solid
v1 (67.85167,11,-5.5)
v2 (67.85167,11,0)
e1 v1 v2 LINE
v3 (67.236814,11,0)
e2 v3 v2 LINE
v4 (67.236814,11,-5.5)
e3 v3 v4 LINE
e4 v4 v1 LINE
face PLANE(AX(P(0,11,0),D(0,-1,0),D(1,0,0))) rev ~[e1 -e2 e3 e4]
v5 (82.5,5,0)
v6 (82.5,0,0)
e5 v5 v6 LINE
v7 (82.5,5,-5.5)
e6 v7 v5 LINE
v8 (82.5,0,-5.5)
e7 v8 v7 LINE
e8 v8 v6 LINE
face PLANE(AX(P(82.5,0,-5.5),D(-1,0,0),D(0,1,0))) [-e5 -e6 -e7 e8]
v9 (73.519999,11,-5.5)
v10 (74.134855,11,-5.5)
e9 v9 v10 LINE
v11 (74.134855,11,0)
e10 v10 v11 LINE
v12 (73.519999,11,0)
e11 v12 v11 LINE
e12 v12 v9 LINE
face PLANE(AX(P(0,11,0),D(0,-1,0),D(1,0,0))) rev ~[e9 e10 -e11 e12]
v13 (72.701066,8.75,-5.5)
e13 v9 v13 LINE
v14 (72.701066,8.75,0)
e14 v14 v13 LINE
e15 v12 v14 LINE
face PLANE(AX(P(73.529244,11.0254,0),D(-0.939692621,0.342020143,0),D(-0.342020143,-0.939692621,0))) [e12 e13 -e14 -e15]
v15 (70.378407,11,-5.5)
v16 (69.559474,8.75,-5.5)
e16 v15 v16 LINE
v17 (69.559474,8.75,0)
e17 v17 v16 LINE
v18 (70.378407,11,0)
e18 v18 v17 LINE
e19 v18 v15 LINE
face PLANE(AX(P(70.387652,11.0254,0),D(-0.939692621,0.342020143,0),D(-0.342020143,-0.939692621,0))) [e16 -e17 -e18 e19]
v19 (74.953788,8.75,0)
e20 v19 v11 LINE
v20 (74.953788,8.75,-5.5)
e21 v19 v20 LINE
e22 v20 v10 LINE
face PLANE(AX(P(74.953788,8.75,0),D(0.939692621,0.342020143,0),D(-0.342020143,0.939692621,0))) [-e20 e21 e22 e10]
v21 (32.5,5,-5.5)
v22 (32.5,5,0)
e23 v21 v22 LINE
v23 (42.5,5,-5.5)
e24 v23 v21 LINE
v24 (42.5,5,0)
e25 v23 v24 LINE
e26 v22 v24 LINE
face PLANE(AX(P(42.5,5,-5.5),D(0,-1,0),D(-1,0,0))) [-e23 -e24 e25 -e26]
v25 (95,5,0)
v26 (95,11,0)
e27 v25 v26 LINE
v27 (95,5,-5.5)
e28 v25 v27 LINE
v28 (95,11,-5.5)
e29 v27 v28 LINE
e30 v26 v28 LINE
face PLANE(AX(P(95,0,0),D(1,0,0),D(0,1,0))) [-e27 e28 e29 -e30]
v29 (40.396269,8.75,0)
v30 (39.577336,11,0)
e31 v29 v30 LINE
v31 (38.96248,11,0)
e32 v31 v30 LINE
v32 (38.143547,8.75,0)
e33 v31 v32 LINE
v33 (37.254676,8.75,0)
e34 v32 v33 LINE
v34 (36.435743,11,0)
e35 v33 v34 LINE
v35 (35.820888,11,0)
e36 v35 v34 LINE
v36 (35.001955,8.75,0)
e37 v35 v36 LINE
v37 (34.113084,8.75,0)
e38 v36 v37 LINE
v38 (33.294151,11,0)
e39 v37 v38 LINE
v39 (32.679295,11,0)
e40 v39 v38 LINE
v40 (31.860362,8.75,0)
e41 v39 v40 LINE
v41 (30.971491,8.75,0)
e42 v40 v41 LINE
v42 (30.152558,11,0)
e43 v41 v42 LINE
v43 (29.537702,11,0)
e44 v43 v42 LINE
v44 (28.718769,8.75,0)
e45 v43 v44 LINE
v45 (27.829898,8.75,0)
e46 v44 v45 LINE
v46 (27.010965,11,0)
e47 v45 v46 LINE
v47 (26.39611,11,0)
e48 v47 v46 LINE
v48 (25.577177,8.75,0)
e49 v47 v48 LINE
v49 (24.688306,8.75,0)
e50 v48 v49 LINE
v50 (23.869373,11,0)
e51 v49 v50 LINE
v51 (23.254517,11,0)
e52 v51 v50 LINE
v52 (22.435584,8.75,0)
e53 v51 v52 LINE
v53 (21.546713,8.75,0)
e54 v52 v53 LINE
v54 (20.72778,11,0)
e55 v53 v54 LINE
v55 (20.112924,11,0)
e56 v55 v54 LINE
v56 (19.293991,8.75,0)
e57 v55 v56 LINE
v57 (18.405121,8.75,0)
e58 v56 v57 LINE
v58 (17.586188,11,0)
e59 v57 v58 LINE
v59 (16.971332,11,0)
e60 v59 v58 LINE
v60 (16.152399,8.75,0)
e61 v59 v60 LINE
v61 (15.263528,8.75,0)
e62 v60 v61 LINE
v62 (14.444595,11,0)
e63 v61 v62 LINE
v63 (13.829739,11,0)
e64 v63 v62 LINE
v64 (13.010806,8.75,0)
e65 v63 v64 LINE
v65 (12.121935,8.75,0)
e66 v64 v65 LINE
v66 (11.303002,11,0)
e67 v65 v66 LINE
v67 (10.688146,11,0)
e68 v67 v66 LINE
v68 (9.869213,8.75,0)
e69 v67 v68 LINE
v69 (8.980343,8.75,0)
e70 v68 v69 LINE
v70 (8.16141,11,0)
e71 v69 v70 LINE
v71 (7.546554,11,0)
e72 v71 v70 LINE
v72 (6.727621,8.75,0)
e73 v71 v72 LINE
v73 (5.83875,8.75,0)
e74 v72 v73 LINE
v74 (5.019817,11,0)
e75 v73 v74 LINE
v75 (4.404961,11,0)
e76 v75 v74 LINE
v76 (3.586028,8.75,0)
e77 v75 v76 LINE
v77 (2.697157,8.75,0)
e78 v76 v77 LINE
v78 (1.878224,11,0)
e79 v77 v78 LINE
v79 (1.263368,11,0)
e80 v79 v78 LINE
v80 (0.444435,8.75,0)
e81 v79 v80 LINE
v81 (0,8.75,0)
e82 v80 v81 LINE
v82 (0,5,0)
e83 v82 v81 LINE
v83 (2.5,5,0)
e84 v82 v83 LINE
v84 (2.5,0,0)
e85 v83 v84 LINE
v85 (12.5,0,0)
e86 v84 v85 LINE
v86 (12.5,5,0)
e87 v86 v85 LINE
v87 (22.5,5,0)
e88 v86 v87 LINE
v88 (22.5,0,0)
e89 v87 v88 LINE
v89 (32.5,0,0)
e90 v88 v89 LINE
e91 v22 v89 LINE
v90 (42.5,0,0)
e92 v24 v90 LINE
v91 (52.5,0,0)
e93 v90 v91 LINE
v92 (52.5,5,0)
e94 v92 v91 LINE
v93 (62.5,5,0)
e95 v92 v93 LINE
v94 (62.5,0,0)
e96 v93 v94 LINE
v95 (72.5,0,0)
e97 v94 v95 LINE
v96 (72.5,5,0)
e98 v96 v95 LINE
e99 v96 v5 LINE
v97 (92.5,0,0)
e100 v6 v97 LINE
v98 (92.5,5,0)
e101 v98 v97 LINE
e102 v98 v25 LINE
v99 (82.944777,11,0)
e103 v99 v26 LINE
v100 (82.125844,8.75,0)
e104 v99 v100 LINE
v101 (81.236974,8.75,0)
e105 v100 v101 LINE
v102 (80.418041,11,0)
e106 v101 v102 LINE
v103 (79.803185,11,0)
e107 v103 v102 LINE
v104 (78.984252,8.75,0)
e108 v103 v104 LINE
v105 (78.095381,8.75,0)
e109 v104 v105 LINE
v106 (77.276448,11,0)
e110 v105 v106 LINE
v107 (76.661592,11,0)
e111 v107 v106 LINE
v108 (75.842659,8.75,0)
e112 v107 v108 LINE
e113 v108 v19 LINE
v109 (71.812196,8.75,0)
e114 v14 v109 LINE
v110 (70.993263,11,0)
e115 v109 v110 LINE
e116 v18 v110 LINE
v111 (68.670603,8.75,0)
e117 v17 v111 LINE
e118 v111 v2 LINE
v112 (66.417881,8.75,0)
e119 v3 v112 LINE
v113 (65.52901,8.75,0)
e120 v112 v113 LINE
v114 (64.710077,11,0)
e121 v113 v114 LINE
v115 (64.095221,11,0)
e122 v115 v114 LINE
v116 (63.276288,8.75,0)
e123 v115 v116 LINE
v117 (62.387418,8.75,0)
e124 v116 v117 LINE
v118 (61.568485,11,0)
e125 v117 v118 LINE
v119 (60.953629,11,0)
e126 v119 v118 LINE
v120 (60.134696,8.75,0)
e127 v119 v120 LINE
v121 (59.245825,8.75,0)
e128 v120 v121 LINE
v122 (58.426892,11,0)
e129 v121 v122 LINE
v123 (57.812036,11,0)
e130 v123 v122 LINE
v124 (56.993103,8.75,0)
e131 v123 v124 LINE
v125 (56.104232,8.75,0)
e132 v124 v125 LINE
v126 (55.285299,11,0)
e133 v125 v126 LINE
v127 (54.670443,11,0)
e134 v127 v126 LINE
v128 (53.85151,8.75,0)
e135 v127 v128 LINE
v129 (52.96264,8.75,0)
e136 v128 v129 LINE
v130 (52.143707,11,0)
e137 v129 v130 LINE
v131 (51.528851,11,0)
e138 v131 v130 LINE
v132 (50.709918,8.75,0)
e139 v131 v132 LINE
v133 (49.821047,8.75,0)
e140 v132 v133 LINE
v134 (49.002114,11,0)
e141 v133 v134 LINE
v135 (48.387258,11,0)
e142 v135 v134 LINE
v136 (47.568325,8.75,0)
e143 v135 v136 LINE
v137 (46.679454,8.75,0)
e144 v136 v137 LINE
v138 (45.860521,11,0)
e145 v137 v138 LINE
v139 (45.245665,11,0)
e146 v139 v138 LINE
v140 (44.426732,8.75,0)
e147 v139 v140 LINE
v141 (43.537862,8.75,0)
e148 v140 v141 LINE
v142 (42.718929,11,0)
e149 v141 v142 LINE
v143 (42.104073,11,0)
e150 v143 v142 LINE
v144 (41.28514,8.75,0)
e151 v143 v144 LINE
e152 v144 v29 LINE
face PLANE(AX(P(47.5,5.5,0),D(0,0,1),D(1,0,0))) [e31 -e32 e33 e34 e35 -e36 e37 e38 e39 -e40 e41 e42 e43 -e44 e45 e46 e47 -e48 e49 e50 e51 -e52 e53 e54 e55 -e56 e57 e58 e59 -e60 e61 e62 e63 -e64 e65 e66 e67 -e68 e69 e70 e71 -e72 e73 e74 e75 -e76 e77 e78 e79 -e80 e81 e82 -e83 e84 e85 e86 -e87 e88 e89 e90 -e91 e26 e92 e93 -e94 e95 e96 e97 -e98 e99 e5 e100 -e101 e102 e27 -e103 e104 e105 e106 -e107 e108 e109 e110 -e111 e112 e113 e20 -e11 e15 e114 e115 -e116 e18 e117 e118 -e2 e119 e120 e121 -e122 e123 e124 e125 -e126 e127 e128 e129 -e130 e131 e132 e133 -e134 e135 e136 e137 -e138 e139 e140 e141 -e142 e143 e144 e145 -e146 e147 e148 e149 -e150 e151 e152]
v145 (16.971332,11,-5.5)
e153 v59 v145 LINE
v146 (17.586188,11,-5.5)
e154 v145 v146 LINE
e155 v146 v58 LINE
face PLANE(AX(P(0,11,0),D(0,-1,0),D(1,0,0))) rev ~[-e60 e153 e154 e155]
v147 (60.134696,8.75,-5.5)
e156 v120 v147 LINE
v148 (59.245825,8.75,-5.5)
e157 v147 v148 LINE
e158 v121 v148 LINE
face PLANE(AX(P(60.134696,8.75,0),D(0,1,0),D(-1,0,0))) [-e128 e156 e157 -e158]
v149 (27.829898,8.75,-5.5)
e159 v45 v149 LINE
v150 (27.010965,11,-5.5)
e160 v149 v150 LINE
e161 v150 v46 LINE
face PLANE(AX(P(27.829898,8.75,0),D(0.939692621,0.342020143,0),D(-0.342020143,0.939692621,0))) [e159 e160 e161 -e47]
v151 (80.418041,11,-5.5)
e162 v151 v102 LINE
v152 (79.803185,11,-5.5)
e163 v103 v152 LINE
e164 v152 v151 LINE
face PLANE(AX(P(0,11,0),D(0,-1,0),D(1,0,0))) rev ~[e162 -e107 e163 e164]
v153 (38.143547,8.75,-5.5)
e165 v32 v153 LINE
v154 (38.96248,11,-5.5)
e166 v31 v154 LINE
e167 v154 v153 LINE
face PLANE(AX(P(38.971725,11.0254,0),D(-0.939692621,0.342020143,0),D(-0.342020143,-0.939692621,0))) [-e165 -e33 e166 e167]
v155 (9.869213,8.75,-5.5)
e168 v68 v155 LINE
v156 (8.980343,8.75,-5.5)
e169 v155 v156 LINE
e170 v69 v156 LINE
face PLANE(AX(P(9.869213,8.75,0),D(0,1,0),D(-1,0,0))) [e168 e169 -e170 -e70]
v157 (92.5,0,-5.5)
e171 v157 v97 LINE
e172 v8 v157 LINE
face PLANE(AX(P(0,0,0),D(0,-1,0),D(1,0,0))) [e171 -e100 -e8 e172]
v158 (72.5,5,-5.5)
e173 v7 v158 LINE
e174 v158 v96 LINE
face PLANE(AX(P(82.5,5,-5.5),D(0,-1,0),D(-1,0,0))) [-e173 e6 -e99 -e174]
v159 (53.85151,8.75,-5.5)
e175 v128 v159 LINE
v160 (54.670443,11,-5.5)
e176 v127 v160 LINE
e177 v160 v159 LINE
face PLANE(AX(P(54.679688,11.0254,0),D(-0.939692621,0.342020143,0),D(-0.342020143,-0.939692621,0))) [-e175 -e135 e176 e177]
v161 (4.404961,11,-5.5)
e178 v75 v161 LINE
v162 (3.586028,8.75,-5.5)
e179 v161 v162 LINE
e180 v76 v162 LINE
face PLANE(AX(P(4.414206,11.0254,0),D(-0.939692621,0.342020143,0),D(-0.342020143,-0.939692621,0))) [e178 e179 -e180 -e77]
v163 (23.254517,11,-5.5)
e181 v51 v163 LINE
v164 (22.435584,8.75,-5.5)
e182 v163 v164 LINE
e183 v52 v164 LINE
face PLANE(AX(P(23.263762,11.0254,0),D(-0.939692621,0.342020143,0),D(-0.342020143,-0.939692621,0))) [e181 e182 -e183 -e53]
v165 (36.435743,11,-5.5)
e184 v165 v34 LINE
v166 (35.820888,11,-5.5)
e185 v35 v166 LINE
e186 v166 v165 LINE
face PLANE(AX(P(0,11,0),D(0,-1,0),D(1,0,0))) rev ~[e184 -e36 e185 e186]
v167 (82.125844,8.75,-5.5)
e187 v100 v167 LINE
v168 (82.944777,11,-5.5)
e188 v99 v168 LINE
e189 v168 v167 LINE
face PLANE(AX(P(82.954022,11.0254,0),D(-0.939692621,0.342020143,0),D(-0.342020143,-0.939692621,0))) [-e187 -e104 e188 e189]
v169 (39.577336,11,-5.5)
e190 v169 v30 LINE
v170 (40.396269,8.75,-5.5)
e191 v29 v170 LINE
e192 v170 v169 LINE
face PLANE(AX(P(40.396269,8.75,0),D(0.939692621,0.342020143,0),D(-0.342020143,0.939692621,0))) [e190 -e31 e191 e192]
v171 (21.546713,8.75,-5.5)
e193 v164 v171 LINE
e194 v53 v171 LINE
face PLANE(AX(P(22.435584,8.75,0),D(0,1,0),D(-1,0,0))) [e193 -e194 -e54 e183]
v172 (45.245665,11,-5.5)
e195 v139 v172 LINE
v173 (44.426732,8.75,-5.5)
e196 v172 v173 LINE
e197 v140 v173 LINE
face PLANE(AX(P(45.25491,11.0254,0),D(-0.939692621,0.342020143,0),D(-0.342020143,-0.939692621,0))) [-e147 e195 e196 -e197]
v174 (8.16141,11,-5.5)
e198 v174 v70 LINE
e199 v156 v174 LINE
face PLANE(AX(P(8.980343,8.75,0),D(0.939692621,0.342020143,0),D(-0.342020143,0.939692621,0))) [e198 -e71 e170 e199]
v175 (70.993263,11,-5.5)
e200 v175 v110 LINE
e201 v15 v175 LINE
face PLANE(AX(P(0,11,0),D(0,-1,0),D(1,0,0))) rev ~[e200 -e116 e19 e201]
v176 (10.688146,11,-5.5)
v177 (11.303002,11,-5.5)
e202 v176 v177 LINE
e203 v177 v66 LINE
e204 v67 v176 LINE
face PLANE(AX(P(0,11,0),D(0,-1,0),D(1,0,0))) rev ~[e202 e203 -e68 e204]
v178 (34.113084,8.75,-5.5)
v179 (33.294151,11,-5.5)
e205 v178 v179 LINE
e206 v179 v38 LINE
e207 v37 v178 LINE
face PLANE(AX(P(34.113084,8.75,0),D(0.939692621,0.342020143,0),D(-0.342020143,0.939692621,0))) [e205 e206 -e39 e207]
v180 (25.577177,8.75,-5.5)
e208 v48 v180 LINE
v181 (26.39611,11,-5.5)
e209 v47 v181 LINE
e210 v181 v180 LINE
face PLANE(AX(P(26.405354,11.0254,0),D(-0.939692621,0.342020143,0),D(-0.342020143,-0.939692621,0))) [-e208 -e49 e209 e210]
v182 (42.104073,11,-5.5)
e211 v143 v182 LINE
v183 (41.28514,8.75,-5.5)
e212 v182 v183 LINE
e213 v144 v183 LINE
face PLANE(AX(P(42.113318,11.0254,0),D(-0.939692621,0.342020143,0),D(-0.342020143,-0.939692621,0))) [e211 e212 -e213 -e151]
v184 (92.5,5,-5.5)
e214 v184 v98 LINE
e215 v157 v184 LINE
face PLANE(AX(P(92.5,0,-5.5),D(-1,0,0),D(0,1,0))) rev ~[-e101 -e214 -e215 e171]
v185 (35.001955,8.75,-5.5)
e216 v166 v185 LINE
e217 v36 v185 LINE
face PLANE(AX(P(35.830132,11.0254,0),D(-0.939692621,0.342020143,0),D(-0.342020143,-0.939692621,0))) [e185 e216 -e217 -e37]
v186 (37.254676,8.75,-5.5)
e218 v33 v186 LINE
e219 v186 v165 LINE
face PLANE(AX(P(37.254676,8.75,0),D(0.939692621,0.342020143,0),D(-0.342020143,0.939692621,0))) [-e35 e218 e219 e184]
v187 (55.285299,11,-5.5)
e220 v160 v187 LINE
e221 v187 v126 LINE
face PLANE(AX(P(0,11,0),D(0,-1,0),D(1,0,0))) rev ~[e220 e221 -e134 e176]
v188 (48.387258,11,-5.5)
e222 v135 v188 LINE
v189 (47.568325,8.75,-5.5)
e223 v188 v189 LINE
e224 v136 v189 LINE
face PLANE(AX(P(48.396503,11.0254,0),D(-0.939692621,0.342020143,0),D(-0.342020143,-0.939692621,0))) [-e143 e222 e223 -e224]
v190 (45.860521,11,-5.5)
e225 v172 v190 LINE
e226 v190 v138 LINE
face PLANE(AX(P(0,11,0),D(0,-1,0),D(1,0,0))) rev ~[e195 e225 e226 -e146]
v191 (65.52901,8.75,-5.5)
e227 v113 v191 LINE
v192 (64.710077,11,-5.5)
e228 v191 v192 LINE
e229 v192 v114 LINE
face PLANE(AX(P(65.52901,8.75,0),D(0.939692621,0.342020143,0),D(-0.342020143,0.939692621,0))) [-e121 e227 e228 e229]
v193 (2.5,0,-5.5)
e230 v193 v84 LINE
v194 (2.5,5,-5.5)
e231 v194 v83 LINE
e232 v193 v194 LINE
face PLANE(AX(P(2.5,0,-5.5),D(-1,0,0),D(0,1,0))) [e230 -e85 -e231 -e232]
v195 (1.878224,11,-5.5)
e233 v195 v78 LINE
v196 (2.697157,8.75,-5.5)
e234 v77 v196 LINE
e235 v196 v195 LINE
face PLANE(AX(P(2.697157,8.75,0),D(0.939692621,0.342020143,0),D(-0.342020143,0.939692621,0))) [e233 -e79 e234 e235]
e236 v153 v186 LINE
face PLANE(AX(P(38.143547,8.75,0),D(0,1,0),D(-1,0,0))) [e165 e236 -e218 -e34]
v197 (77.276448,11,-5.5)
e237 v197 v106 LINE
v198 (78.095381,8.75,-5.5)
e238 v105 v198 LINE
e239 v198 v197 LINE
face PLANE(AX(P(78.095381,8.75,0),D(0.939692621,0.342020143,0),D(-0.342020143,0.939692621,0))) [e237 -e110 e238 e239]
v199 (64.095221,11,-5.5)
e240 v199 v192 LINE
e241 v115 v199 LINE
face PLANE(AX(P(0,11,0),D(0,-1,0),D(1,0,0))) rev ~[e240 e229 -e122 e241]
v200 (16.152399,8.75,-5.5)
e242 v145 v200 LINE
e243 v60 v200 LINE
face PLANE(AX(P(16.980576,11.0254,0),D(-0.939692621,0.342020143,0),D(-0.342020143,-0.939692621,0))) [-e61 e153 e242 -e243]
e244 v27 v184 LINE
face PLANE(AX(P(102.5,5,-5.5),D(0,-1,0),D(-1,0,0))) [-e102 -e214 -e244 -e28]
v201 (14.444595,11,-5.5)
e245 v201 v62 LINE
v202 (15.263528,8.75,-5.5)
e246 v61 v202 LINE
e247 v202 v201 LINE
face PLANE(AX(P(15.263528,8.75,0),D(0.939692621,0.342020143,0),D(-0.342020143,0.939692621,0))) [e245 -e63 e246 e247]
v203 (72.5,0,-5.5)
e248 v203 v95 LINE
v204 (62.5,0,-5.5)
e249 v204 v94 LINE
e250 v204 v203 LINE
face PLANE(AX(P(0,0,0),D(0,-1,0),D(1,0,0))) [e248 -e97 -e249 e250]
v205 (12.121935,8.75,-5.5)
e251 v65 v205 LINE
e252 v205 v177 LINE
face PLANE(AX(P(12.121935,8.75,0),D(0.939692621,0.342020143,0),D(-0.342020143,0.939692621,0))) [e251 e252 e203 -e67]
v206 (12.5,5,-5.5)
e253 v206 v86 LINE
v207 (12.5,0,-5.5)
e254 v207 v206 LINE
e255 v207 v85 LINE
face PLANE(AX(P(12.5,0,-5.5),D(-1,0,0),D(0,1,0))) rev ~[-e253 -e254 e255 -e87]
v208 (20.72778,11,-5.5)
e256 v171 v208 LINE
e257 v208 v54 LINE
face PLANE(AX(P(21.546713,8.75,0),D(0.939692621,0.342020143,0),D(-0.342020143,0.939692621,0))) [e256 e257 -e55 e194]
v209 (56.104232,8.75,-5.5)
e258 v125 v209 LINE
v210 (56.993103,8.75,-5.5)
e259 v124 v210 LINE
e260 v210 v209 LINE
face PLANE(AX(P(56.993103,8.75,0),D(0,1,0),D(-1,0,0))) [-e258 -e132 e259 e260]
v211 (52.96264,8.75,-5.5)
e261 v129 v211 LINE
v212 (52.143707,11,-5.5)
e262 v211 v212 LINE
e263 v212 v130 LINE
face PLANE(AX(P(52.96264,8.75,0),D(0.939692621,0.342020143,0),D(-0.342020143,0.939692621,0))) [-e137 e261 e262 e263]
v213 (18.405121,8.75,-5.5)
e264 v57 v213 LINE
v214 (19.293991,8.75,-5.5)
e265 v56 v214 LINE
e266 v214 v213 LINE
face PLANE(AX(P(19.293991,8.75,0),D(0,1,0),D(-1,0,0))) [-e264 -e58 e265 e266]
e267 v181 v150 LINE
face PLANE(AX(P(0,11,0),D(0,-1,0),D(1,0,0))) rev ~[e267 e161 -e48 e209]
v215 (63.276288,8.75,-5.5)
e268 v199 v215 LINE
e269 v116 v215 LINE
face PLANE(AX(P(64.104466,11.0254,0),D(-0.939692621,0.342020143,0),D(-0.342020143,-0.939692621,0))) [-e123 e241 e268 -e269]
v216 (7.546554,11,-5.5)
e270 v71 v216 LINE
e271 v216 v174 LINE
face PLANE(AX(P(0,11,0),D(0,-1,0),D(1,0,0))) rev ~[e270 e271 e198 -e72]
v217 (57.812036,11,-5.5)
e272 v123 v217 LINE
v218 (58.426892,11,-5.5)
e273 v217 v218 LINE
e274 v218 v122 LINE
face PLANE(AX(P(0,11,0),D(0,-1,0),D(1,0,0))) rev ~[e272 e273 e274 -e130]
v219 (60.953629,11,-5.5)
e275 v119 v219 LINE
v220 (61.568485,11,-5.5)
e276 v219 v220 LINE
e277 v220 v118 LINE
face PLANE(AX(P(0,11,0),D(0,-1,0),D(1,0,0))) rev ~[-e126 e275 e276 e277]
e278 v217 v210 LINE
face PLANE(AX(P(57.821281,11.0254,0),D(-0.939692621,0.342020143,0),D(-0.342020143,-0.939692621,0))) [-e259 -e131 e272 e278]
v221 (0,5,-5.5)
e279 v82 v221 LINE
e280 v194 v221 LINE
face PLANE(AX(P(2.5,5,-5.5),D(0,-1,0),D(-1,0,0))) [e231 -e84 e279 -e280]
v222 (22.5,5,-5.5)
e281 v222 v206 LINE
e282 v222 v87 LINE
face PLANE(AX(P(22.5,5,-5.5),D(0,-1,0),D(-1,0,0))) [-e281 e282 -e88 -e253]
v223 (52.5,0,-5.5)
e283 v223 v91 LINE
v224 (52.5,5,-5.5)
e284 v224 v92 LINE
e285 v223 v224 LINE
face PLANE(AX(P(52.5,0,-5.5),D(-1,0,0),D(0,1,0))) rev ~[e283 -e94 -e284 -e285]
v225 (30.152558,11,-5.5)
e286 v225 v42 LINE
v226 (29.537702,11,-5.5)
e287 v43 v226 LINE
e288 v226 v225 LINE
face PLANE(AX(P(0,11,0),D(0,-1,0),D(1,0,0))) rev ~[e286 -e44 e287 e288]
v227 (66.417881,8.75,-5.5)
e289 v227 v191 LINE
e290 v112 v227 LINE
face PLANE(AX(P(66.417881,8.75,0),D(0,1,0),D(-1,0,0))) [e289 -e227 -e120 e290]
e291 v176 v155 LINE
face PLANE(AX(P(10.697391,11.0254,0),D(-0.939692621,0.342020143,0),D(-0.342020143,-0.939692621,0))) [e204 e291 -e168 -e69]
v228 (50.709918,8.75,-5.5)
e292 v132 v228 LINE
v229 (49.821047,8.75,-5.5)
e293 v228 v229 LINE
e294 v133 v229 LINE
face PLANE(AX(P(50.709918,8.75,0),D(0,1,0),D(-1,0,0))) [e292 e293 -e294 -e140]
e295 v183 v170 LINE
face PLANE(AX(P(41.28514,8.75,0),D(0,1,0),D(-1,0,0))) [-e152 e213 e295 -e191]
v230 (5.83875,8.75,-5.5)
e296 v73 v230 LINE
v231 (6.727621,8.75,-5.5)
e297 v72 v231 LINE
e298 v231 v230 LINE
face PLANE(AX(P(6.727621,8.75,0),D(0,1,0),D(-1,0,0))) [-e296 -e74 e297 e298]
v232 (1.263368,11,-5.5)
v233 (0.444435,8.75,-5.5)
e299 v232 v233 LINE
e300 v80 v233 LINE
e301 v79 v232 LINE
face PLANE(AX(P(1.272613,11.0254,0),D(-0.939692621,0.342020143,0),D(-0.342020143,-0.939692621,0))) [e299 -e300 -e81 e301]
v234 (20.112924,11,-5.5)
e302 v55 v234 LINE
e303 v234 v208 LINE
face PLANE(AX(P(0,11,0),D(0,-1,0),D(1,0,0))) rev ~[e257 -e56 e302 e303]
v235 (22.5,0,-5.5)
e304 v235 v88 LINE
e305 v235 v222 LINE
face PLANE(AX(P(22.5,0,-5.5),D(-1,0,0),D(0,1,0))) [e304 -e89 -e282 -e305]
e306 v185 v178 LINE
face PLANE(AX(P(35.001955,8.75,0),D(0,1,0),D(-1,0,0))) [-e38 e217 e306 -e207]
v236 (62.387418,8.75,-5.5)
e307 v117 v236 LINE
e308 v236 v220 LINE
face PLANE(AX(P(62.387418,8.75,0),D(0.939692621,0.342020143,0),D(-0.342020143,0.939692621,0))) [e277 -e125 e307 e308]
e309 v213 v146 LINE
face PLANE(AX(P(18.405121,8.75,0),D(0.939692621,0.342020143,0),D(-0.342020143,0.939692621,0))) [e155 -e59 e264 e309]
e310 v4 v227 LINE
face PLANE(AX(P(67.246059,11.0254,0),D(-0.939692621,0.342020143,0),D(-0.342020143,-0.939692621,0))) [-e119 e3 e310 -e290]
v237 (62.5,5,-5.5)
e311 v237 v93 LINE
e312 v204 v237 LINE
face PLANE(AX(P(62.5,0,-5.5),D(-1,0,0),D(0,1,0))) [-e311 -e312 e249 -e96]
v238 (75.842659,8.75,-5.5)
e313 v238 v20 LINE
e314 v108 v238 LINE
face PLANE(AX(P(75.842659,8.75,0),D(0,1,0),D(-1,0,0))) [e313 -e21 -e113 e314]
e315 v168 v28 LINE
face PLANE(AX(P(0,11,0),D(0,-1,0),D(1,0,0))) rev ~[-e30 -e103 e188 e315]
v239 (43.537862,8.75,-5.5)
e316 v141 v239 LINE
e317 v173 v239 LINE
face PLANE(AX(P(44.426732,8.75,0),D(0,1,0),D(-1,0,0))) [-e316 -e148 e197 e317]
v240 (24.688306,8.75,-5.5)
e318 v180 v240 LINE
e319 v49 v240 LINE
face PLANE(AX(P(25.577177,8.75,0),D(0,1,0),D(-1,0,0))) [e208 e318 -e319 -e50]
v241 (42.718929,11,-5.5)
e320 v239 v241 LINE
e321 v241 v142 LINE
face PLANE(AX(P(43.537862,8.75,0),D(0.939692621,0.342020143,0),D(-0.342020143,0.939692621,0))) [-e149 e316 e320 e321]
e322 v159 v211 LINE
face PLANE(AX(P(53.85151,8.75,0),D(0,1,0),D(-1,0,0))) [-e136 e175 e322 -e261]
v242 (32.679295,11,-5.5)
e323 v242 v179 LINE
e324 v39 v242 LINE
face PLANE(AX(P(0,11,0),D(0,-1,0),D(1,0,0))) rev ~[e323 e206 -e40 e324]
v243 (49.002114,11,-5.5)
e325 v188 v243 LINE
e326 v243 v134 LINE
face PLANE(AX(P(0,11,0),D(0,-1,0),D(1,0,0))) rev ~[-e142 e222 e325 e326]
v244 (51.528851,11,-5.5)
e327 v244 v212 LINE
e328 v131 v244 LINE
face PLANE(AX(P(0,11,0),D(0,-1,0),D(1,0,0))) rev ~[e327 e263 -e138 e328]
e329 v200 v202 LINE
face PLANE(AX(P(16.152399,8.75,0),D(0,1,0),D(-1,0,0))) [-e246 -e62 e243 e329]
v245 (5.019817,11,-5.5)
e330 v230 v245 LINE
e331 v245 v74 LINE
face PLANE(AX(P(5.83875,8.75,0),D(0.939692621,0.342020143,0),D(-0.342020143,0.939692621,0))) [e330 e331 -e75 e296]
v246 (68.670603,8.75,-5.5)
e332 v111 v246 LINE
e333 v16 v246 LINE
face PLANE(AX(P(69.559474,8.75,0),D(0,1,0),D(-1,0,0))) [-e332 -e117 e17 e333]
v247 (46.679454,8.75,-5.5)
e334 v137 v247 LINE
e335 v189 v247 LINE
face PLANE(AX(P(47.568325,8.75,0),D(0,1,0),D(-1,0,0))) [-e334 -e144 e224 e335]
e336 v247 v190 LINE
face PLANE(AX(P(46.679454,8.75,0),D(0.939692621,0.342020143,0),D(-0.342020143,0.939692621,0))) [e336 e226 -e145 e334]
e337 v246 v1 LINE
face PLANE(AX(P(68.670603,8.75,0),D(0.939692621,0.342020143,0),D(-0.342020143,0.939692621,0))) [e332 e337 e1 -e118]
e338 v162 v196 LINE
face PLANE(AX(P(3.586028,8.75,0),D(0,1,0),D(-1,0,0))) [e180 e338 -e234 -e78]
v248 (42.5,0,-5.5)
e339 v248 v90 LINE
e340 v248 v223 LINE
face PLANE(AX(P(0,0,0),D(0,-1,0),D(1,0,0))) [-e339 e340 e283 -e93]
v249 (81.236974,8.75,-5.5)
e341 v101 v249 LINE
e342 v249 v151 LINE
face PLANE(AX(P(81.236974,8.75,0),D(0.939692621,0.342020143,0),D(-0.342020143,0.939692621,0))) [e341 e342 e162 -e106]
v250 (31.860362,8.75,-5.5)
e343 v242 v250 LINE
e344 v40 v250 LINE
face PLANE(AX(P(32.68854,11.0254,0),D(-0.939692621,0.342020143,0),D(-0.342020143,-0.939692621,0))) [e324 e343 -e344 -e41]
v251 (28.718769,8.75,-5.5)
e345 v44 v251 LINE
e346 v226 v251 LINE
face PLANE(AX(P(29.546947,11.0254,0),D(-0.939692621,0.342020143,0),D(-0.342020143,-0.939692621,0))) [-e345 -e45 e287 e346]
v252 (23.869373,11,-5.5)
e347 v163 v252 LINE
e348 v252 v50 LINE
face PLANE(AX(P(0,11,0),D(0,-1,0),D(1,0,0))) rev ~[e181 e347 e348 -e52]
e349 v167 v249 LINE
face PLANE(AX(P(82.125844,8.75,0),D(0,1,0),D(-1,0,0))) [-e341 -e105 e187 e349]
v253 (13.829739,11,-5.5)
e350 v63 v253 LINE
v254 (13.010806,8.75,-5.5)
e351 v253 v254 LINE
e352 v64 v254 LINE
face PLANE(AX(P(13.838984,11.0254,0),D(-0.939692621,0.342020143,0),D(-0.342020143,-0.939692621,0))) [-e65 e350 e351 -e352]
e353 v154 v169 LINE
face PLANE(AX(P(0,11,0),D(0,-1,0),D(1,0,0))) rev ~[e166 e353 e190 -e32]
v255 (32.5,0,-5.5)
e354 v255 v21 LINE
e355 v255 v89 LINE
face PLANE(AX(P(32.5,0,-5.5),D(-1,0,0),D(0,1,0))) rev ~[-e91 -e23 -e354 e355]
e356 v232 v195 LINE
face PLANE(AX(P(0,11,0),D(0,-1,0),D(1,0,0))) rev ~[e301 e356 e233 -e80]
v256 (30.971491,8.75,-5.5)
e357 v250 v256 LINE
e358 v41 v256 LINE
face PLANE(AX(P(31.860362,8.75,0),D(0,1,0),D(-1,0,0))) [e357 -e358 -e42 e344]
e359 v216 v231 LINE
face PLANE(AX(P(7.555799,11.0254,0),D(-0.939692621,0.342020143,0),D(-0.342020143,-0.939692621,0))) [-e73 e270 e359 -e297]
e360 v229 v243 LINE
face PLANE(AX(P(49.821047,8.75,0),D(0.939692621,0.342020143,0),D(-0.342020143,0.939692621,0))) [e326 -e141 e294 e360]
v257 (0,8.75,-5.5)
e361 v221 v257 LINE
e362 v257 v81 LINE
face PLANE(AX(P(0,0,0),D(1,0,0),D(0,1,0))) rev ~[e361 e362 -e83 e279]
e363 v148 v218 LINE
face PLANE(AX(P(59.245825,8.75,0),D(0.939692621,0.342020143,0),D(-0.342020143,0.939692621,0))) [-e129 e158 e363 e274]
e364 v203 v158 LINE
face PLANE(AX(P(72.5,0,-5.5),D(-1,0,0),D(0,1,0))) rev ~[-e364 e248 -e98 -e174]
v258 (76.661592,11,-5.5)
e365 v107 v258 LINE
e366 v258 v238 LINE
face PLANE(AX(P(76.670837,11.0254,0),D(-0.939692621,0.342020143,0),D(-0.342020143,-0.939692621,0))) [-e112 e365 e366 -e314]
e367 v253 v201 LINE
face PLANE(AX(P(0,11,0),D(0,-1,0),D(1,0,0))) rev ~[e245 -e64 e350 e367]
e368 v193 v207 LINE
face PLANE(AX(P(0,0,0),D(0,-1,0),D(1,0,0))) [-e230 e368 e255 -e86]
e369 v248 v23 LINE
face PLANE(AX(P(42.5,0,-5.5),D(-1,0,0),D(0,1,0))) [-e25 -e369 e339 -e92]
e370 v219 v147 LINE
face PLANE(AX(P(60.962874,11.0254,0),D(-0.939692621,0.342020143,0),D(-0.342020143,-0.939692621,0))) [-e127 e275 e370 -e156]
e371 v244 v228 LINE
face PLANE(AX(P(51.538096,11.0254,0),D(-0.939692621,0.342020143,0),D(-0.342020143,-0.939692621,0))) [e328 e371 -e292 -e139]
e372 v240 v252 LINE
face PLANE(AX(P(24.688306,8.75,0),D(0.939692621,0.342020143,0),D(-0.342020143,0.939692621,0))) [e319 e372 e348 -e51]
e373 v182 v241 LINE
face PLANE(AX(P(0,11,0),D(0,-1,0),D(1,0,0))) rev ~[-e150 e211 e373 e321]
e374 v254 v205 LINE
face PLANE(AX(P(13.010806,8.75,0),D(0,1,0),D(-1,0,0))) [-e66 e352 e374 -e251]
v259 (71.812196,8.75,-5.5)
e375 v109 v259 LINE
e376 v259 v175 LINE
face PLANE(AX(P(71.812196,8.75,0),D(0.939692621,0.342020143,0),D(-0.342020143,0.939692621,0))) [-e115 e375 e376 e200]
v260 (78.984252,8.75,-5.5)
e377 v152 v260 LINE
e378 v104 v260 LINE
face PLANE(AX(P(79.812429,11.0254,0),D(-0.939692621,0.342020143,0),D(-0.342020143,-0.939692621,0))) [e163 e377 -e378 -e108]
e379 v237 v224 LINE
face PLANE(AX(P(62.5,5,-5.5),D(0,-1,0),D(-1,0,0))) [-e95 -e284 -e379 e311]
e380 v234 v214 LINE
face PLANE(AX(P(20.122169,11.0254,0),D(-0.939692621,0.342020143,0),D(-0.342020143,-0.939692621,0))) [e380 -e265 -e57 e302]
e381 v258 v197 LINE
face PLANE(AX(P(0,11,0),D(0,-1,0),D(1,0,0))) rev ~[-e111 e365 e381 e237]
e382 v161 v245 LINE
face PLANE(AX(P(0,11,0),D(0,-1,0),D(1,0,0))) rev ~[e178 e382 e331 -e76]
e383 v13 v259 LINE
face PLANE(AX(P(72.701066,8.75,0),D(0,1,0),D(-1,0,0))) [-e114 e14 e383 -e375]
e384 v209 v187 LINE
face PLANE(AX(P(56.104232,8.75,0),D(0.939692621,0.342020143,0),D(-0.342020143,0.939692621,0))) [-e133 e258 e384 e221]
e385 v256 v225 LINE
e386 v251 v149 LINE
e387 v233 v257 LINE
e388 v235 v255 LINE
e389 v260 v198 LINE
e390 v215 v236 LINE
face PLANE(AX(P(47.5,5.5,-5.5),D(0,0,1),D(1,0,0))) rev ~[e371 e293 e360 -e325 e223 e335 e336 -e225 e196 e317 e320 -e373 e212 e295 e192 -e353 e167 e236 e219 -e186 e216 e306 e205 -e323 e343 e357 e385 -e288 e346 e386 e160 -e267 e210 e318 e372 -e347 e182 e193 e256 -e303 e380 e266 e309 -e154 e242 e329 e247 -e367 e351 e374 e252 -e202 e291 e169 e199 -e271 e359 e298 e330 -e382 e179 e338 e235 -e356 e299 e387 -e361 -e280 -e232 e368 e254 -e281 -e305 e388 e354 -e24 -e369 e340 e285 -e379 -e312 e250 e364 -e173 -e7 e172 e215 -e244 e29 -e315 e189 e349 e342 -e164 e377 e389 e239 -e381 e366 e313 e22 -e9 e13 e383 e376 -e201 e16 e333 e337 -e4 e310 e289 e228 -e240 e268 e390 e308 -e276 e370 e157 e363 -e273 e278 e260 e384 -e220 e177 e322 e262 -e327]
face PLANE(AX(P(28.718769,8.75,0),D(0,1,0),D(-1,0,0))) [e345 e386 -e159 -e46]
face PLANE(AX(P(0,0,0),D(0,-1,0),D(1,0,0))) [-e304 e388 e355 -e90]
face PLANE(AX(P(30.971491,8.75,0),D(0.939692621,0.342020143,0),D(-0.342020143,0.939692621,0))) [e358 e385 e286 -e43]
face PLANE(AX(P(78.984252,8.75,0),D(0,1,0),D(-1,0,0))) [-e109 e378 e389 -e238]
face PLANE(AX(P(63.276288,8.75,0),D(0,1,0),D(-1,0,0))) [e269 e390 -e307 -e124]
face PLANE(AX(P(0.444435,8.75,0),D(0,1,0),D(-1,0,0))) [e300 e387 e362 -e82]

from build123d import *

# Parameters (mm, degrees)
BLANKSKE_W          = 95
BLANKSKE_H          = 11
BLANK_DEPTH         = 5.5
TOOTHCUTSIM_DEPTH   = 96.792745028
TEETHCUTS_COUNT     = 27
TEETHCUTS_PITCH     = 3.14159265
SKETCH_1_W          = 10
SKETCH_1_H          = 5
CUT_EXTRUDE_1_DEPTH = 96.792745028


with BuildPart() as part:
    # BlankSke → Blank (new body)
    with BuildSketch(Plane.XY):
        with Locations((47.5, 5.5)):
            Rectangle(BLANKSKE_W, BLANKSKE_H)
    extrude(amount=-BLANK_DEPTH)

    # TooCutSkeSim → ToothCutSim (cut, through all)
    with BuildSketch(Plane.XY):
        Polygon((0.44443537, 8.75), (-0.44443537, 8.75), (-1.272613241, 11.0254), (1.272613241, 11.0254), align=None)
    toothcutsim = extrude(amount=-TOOTHCUTSIM_DEPTH, mode=Mode.SUBTRACT)

    # TeethCuts: ToothCutSim ×27
    with Locations(*[(i * TEETHCUTS_PITCH, 0, 0) for i in range(1, TEETHCUTS_COUNT)]):
        add(toothcutsim, mode=Mode.SUBTRACT)

    # ｽｹｯﾁ1 → ｶｯﾄ - 押し出し1 (cut, through all)
    with BuildSketch(Plane(origin=(0, 0, -5.5), x_dir=(-1, 0, 0), z_dir=(0, 0, -1))):
        with Locations((-97.5, 2.5)):
            Rectangle(SKETCH_1_W, SKETCH_1_H)
        with Locations((2.5, 2.5)):
            Rectangle(SKETCH_1_W, SKETCH_1_H)
        with Locations((-17.5, 2.5)):
            Rectangle(SKETCH_1_W, SKETCH_1_H)
        with Locations((-37.5, 2.5)):
            Rectangle(SKETCH_1_W, SKETCH_1_H)
        with Locations((-57.5, 2.5)):
            Rectangle(SKETCH_1_W, SKETCH_1_H)
        with Locations((-77.5, 2.5)):
            Rectangle(SKETCH_1_W, SKETCH_1_H)
    extrude(amount=-CUT_EXTRUDE_1_DEPTH, mode=Mode.SUBTRACT)


solid = part.part
